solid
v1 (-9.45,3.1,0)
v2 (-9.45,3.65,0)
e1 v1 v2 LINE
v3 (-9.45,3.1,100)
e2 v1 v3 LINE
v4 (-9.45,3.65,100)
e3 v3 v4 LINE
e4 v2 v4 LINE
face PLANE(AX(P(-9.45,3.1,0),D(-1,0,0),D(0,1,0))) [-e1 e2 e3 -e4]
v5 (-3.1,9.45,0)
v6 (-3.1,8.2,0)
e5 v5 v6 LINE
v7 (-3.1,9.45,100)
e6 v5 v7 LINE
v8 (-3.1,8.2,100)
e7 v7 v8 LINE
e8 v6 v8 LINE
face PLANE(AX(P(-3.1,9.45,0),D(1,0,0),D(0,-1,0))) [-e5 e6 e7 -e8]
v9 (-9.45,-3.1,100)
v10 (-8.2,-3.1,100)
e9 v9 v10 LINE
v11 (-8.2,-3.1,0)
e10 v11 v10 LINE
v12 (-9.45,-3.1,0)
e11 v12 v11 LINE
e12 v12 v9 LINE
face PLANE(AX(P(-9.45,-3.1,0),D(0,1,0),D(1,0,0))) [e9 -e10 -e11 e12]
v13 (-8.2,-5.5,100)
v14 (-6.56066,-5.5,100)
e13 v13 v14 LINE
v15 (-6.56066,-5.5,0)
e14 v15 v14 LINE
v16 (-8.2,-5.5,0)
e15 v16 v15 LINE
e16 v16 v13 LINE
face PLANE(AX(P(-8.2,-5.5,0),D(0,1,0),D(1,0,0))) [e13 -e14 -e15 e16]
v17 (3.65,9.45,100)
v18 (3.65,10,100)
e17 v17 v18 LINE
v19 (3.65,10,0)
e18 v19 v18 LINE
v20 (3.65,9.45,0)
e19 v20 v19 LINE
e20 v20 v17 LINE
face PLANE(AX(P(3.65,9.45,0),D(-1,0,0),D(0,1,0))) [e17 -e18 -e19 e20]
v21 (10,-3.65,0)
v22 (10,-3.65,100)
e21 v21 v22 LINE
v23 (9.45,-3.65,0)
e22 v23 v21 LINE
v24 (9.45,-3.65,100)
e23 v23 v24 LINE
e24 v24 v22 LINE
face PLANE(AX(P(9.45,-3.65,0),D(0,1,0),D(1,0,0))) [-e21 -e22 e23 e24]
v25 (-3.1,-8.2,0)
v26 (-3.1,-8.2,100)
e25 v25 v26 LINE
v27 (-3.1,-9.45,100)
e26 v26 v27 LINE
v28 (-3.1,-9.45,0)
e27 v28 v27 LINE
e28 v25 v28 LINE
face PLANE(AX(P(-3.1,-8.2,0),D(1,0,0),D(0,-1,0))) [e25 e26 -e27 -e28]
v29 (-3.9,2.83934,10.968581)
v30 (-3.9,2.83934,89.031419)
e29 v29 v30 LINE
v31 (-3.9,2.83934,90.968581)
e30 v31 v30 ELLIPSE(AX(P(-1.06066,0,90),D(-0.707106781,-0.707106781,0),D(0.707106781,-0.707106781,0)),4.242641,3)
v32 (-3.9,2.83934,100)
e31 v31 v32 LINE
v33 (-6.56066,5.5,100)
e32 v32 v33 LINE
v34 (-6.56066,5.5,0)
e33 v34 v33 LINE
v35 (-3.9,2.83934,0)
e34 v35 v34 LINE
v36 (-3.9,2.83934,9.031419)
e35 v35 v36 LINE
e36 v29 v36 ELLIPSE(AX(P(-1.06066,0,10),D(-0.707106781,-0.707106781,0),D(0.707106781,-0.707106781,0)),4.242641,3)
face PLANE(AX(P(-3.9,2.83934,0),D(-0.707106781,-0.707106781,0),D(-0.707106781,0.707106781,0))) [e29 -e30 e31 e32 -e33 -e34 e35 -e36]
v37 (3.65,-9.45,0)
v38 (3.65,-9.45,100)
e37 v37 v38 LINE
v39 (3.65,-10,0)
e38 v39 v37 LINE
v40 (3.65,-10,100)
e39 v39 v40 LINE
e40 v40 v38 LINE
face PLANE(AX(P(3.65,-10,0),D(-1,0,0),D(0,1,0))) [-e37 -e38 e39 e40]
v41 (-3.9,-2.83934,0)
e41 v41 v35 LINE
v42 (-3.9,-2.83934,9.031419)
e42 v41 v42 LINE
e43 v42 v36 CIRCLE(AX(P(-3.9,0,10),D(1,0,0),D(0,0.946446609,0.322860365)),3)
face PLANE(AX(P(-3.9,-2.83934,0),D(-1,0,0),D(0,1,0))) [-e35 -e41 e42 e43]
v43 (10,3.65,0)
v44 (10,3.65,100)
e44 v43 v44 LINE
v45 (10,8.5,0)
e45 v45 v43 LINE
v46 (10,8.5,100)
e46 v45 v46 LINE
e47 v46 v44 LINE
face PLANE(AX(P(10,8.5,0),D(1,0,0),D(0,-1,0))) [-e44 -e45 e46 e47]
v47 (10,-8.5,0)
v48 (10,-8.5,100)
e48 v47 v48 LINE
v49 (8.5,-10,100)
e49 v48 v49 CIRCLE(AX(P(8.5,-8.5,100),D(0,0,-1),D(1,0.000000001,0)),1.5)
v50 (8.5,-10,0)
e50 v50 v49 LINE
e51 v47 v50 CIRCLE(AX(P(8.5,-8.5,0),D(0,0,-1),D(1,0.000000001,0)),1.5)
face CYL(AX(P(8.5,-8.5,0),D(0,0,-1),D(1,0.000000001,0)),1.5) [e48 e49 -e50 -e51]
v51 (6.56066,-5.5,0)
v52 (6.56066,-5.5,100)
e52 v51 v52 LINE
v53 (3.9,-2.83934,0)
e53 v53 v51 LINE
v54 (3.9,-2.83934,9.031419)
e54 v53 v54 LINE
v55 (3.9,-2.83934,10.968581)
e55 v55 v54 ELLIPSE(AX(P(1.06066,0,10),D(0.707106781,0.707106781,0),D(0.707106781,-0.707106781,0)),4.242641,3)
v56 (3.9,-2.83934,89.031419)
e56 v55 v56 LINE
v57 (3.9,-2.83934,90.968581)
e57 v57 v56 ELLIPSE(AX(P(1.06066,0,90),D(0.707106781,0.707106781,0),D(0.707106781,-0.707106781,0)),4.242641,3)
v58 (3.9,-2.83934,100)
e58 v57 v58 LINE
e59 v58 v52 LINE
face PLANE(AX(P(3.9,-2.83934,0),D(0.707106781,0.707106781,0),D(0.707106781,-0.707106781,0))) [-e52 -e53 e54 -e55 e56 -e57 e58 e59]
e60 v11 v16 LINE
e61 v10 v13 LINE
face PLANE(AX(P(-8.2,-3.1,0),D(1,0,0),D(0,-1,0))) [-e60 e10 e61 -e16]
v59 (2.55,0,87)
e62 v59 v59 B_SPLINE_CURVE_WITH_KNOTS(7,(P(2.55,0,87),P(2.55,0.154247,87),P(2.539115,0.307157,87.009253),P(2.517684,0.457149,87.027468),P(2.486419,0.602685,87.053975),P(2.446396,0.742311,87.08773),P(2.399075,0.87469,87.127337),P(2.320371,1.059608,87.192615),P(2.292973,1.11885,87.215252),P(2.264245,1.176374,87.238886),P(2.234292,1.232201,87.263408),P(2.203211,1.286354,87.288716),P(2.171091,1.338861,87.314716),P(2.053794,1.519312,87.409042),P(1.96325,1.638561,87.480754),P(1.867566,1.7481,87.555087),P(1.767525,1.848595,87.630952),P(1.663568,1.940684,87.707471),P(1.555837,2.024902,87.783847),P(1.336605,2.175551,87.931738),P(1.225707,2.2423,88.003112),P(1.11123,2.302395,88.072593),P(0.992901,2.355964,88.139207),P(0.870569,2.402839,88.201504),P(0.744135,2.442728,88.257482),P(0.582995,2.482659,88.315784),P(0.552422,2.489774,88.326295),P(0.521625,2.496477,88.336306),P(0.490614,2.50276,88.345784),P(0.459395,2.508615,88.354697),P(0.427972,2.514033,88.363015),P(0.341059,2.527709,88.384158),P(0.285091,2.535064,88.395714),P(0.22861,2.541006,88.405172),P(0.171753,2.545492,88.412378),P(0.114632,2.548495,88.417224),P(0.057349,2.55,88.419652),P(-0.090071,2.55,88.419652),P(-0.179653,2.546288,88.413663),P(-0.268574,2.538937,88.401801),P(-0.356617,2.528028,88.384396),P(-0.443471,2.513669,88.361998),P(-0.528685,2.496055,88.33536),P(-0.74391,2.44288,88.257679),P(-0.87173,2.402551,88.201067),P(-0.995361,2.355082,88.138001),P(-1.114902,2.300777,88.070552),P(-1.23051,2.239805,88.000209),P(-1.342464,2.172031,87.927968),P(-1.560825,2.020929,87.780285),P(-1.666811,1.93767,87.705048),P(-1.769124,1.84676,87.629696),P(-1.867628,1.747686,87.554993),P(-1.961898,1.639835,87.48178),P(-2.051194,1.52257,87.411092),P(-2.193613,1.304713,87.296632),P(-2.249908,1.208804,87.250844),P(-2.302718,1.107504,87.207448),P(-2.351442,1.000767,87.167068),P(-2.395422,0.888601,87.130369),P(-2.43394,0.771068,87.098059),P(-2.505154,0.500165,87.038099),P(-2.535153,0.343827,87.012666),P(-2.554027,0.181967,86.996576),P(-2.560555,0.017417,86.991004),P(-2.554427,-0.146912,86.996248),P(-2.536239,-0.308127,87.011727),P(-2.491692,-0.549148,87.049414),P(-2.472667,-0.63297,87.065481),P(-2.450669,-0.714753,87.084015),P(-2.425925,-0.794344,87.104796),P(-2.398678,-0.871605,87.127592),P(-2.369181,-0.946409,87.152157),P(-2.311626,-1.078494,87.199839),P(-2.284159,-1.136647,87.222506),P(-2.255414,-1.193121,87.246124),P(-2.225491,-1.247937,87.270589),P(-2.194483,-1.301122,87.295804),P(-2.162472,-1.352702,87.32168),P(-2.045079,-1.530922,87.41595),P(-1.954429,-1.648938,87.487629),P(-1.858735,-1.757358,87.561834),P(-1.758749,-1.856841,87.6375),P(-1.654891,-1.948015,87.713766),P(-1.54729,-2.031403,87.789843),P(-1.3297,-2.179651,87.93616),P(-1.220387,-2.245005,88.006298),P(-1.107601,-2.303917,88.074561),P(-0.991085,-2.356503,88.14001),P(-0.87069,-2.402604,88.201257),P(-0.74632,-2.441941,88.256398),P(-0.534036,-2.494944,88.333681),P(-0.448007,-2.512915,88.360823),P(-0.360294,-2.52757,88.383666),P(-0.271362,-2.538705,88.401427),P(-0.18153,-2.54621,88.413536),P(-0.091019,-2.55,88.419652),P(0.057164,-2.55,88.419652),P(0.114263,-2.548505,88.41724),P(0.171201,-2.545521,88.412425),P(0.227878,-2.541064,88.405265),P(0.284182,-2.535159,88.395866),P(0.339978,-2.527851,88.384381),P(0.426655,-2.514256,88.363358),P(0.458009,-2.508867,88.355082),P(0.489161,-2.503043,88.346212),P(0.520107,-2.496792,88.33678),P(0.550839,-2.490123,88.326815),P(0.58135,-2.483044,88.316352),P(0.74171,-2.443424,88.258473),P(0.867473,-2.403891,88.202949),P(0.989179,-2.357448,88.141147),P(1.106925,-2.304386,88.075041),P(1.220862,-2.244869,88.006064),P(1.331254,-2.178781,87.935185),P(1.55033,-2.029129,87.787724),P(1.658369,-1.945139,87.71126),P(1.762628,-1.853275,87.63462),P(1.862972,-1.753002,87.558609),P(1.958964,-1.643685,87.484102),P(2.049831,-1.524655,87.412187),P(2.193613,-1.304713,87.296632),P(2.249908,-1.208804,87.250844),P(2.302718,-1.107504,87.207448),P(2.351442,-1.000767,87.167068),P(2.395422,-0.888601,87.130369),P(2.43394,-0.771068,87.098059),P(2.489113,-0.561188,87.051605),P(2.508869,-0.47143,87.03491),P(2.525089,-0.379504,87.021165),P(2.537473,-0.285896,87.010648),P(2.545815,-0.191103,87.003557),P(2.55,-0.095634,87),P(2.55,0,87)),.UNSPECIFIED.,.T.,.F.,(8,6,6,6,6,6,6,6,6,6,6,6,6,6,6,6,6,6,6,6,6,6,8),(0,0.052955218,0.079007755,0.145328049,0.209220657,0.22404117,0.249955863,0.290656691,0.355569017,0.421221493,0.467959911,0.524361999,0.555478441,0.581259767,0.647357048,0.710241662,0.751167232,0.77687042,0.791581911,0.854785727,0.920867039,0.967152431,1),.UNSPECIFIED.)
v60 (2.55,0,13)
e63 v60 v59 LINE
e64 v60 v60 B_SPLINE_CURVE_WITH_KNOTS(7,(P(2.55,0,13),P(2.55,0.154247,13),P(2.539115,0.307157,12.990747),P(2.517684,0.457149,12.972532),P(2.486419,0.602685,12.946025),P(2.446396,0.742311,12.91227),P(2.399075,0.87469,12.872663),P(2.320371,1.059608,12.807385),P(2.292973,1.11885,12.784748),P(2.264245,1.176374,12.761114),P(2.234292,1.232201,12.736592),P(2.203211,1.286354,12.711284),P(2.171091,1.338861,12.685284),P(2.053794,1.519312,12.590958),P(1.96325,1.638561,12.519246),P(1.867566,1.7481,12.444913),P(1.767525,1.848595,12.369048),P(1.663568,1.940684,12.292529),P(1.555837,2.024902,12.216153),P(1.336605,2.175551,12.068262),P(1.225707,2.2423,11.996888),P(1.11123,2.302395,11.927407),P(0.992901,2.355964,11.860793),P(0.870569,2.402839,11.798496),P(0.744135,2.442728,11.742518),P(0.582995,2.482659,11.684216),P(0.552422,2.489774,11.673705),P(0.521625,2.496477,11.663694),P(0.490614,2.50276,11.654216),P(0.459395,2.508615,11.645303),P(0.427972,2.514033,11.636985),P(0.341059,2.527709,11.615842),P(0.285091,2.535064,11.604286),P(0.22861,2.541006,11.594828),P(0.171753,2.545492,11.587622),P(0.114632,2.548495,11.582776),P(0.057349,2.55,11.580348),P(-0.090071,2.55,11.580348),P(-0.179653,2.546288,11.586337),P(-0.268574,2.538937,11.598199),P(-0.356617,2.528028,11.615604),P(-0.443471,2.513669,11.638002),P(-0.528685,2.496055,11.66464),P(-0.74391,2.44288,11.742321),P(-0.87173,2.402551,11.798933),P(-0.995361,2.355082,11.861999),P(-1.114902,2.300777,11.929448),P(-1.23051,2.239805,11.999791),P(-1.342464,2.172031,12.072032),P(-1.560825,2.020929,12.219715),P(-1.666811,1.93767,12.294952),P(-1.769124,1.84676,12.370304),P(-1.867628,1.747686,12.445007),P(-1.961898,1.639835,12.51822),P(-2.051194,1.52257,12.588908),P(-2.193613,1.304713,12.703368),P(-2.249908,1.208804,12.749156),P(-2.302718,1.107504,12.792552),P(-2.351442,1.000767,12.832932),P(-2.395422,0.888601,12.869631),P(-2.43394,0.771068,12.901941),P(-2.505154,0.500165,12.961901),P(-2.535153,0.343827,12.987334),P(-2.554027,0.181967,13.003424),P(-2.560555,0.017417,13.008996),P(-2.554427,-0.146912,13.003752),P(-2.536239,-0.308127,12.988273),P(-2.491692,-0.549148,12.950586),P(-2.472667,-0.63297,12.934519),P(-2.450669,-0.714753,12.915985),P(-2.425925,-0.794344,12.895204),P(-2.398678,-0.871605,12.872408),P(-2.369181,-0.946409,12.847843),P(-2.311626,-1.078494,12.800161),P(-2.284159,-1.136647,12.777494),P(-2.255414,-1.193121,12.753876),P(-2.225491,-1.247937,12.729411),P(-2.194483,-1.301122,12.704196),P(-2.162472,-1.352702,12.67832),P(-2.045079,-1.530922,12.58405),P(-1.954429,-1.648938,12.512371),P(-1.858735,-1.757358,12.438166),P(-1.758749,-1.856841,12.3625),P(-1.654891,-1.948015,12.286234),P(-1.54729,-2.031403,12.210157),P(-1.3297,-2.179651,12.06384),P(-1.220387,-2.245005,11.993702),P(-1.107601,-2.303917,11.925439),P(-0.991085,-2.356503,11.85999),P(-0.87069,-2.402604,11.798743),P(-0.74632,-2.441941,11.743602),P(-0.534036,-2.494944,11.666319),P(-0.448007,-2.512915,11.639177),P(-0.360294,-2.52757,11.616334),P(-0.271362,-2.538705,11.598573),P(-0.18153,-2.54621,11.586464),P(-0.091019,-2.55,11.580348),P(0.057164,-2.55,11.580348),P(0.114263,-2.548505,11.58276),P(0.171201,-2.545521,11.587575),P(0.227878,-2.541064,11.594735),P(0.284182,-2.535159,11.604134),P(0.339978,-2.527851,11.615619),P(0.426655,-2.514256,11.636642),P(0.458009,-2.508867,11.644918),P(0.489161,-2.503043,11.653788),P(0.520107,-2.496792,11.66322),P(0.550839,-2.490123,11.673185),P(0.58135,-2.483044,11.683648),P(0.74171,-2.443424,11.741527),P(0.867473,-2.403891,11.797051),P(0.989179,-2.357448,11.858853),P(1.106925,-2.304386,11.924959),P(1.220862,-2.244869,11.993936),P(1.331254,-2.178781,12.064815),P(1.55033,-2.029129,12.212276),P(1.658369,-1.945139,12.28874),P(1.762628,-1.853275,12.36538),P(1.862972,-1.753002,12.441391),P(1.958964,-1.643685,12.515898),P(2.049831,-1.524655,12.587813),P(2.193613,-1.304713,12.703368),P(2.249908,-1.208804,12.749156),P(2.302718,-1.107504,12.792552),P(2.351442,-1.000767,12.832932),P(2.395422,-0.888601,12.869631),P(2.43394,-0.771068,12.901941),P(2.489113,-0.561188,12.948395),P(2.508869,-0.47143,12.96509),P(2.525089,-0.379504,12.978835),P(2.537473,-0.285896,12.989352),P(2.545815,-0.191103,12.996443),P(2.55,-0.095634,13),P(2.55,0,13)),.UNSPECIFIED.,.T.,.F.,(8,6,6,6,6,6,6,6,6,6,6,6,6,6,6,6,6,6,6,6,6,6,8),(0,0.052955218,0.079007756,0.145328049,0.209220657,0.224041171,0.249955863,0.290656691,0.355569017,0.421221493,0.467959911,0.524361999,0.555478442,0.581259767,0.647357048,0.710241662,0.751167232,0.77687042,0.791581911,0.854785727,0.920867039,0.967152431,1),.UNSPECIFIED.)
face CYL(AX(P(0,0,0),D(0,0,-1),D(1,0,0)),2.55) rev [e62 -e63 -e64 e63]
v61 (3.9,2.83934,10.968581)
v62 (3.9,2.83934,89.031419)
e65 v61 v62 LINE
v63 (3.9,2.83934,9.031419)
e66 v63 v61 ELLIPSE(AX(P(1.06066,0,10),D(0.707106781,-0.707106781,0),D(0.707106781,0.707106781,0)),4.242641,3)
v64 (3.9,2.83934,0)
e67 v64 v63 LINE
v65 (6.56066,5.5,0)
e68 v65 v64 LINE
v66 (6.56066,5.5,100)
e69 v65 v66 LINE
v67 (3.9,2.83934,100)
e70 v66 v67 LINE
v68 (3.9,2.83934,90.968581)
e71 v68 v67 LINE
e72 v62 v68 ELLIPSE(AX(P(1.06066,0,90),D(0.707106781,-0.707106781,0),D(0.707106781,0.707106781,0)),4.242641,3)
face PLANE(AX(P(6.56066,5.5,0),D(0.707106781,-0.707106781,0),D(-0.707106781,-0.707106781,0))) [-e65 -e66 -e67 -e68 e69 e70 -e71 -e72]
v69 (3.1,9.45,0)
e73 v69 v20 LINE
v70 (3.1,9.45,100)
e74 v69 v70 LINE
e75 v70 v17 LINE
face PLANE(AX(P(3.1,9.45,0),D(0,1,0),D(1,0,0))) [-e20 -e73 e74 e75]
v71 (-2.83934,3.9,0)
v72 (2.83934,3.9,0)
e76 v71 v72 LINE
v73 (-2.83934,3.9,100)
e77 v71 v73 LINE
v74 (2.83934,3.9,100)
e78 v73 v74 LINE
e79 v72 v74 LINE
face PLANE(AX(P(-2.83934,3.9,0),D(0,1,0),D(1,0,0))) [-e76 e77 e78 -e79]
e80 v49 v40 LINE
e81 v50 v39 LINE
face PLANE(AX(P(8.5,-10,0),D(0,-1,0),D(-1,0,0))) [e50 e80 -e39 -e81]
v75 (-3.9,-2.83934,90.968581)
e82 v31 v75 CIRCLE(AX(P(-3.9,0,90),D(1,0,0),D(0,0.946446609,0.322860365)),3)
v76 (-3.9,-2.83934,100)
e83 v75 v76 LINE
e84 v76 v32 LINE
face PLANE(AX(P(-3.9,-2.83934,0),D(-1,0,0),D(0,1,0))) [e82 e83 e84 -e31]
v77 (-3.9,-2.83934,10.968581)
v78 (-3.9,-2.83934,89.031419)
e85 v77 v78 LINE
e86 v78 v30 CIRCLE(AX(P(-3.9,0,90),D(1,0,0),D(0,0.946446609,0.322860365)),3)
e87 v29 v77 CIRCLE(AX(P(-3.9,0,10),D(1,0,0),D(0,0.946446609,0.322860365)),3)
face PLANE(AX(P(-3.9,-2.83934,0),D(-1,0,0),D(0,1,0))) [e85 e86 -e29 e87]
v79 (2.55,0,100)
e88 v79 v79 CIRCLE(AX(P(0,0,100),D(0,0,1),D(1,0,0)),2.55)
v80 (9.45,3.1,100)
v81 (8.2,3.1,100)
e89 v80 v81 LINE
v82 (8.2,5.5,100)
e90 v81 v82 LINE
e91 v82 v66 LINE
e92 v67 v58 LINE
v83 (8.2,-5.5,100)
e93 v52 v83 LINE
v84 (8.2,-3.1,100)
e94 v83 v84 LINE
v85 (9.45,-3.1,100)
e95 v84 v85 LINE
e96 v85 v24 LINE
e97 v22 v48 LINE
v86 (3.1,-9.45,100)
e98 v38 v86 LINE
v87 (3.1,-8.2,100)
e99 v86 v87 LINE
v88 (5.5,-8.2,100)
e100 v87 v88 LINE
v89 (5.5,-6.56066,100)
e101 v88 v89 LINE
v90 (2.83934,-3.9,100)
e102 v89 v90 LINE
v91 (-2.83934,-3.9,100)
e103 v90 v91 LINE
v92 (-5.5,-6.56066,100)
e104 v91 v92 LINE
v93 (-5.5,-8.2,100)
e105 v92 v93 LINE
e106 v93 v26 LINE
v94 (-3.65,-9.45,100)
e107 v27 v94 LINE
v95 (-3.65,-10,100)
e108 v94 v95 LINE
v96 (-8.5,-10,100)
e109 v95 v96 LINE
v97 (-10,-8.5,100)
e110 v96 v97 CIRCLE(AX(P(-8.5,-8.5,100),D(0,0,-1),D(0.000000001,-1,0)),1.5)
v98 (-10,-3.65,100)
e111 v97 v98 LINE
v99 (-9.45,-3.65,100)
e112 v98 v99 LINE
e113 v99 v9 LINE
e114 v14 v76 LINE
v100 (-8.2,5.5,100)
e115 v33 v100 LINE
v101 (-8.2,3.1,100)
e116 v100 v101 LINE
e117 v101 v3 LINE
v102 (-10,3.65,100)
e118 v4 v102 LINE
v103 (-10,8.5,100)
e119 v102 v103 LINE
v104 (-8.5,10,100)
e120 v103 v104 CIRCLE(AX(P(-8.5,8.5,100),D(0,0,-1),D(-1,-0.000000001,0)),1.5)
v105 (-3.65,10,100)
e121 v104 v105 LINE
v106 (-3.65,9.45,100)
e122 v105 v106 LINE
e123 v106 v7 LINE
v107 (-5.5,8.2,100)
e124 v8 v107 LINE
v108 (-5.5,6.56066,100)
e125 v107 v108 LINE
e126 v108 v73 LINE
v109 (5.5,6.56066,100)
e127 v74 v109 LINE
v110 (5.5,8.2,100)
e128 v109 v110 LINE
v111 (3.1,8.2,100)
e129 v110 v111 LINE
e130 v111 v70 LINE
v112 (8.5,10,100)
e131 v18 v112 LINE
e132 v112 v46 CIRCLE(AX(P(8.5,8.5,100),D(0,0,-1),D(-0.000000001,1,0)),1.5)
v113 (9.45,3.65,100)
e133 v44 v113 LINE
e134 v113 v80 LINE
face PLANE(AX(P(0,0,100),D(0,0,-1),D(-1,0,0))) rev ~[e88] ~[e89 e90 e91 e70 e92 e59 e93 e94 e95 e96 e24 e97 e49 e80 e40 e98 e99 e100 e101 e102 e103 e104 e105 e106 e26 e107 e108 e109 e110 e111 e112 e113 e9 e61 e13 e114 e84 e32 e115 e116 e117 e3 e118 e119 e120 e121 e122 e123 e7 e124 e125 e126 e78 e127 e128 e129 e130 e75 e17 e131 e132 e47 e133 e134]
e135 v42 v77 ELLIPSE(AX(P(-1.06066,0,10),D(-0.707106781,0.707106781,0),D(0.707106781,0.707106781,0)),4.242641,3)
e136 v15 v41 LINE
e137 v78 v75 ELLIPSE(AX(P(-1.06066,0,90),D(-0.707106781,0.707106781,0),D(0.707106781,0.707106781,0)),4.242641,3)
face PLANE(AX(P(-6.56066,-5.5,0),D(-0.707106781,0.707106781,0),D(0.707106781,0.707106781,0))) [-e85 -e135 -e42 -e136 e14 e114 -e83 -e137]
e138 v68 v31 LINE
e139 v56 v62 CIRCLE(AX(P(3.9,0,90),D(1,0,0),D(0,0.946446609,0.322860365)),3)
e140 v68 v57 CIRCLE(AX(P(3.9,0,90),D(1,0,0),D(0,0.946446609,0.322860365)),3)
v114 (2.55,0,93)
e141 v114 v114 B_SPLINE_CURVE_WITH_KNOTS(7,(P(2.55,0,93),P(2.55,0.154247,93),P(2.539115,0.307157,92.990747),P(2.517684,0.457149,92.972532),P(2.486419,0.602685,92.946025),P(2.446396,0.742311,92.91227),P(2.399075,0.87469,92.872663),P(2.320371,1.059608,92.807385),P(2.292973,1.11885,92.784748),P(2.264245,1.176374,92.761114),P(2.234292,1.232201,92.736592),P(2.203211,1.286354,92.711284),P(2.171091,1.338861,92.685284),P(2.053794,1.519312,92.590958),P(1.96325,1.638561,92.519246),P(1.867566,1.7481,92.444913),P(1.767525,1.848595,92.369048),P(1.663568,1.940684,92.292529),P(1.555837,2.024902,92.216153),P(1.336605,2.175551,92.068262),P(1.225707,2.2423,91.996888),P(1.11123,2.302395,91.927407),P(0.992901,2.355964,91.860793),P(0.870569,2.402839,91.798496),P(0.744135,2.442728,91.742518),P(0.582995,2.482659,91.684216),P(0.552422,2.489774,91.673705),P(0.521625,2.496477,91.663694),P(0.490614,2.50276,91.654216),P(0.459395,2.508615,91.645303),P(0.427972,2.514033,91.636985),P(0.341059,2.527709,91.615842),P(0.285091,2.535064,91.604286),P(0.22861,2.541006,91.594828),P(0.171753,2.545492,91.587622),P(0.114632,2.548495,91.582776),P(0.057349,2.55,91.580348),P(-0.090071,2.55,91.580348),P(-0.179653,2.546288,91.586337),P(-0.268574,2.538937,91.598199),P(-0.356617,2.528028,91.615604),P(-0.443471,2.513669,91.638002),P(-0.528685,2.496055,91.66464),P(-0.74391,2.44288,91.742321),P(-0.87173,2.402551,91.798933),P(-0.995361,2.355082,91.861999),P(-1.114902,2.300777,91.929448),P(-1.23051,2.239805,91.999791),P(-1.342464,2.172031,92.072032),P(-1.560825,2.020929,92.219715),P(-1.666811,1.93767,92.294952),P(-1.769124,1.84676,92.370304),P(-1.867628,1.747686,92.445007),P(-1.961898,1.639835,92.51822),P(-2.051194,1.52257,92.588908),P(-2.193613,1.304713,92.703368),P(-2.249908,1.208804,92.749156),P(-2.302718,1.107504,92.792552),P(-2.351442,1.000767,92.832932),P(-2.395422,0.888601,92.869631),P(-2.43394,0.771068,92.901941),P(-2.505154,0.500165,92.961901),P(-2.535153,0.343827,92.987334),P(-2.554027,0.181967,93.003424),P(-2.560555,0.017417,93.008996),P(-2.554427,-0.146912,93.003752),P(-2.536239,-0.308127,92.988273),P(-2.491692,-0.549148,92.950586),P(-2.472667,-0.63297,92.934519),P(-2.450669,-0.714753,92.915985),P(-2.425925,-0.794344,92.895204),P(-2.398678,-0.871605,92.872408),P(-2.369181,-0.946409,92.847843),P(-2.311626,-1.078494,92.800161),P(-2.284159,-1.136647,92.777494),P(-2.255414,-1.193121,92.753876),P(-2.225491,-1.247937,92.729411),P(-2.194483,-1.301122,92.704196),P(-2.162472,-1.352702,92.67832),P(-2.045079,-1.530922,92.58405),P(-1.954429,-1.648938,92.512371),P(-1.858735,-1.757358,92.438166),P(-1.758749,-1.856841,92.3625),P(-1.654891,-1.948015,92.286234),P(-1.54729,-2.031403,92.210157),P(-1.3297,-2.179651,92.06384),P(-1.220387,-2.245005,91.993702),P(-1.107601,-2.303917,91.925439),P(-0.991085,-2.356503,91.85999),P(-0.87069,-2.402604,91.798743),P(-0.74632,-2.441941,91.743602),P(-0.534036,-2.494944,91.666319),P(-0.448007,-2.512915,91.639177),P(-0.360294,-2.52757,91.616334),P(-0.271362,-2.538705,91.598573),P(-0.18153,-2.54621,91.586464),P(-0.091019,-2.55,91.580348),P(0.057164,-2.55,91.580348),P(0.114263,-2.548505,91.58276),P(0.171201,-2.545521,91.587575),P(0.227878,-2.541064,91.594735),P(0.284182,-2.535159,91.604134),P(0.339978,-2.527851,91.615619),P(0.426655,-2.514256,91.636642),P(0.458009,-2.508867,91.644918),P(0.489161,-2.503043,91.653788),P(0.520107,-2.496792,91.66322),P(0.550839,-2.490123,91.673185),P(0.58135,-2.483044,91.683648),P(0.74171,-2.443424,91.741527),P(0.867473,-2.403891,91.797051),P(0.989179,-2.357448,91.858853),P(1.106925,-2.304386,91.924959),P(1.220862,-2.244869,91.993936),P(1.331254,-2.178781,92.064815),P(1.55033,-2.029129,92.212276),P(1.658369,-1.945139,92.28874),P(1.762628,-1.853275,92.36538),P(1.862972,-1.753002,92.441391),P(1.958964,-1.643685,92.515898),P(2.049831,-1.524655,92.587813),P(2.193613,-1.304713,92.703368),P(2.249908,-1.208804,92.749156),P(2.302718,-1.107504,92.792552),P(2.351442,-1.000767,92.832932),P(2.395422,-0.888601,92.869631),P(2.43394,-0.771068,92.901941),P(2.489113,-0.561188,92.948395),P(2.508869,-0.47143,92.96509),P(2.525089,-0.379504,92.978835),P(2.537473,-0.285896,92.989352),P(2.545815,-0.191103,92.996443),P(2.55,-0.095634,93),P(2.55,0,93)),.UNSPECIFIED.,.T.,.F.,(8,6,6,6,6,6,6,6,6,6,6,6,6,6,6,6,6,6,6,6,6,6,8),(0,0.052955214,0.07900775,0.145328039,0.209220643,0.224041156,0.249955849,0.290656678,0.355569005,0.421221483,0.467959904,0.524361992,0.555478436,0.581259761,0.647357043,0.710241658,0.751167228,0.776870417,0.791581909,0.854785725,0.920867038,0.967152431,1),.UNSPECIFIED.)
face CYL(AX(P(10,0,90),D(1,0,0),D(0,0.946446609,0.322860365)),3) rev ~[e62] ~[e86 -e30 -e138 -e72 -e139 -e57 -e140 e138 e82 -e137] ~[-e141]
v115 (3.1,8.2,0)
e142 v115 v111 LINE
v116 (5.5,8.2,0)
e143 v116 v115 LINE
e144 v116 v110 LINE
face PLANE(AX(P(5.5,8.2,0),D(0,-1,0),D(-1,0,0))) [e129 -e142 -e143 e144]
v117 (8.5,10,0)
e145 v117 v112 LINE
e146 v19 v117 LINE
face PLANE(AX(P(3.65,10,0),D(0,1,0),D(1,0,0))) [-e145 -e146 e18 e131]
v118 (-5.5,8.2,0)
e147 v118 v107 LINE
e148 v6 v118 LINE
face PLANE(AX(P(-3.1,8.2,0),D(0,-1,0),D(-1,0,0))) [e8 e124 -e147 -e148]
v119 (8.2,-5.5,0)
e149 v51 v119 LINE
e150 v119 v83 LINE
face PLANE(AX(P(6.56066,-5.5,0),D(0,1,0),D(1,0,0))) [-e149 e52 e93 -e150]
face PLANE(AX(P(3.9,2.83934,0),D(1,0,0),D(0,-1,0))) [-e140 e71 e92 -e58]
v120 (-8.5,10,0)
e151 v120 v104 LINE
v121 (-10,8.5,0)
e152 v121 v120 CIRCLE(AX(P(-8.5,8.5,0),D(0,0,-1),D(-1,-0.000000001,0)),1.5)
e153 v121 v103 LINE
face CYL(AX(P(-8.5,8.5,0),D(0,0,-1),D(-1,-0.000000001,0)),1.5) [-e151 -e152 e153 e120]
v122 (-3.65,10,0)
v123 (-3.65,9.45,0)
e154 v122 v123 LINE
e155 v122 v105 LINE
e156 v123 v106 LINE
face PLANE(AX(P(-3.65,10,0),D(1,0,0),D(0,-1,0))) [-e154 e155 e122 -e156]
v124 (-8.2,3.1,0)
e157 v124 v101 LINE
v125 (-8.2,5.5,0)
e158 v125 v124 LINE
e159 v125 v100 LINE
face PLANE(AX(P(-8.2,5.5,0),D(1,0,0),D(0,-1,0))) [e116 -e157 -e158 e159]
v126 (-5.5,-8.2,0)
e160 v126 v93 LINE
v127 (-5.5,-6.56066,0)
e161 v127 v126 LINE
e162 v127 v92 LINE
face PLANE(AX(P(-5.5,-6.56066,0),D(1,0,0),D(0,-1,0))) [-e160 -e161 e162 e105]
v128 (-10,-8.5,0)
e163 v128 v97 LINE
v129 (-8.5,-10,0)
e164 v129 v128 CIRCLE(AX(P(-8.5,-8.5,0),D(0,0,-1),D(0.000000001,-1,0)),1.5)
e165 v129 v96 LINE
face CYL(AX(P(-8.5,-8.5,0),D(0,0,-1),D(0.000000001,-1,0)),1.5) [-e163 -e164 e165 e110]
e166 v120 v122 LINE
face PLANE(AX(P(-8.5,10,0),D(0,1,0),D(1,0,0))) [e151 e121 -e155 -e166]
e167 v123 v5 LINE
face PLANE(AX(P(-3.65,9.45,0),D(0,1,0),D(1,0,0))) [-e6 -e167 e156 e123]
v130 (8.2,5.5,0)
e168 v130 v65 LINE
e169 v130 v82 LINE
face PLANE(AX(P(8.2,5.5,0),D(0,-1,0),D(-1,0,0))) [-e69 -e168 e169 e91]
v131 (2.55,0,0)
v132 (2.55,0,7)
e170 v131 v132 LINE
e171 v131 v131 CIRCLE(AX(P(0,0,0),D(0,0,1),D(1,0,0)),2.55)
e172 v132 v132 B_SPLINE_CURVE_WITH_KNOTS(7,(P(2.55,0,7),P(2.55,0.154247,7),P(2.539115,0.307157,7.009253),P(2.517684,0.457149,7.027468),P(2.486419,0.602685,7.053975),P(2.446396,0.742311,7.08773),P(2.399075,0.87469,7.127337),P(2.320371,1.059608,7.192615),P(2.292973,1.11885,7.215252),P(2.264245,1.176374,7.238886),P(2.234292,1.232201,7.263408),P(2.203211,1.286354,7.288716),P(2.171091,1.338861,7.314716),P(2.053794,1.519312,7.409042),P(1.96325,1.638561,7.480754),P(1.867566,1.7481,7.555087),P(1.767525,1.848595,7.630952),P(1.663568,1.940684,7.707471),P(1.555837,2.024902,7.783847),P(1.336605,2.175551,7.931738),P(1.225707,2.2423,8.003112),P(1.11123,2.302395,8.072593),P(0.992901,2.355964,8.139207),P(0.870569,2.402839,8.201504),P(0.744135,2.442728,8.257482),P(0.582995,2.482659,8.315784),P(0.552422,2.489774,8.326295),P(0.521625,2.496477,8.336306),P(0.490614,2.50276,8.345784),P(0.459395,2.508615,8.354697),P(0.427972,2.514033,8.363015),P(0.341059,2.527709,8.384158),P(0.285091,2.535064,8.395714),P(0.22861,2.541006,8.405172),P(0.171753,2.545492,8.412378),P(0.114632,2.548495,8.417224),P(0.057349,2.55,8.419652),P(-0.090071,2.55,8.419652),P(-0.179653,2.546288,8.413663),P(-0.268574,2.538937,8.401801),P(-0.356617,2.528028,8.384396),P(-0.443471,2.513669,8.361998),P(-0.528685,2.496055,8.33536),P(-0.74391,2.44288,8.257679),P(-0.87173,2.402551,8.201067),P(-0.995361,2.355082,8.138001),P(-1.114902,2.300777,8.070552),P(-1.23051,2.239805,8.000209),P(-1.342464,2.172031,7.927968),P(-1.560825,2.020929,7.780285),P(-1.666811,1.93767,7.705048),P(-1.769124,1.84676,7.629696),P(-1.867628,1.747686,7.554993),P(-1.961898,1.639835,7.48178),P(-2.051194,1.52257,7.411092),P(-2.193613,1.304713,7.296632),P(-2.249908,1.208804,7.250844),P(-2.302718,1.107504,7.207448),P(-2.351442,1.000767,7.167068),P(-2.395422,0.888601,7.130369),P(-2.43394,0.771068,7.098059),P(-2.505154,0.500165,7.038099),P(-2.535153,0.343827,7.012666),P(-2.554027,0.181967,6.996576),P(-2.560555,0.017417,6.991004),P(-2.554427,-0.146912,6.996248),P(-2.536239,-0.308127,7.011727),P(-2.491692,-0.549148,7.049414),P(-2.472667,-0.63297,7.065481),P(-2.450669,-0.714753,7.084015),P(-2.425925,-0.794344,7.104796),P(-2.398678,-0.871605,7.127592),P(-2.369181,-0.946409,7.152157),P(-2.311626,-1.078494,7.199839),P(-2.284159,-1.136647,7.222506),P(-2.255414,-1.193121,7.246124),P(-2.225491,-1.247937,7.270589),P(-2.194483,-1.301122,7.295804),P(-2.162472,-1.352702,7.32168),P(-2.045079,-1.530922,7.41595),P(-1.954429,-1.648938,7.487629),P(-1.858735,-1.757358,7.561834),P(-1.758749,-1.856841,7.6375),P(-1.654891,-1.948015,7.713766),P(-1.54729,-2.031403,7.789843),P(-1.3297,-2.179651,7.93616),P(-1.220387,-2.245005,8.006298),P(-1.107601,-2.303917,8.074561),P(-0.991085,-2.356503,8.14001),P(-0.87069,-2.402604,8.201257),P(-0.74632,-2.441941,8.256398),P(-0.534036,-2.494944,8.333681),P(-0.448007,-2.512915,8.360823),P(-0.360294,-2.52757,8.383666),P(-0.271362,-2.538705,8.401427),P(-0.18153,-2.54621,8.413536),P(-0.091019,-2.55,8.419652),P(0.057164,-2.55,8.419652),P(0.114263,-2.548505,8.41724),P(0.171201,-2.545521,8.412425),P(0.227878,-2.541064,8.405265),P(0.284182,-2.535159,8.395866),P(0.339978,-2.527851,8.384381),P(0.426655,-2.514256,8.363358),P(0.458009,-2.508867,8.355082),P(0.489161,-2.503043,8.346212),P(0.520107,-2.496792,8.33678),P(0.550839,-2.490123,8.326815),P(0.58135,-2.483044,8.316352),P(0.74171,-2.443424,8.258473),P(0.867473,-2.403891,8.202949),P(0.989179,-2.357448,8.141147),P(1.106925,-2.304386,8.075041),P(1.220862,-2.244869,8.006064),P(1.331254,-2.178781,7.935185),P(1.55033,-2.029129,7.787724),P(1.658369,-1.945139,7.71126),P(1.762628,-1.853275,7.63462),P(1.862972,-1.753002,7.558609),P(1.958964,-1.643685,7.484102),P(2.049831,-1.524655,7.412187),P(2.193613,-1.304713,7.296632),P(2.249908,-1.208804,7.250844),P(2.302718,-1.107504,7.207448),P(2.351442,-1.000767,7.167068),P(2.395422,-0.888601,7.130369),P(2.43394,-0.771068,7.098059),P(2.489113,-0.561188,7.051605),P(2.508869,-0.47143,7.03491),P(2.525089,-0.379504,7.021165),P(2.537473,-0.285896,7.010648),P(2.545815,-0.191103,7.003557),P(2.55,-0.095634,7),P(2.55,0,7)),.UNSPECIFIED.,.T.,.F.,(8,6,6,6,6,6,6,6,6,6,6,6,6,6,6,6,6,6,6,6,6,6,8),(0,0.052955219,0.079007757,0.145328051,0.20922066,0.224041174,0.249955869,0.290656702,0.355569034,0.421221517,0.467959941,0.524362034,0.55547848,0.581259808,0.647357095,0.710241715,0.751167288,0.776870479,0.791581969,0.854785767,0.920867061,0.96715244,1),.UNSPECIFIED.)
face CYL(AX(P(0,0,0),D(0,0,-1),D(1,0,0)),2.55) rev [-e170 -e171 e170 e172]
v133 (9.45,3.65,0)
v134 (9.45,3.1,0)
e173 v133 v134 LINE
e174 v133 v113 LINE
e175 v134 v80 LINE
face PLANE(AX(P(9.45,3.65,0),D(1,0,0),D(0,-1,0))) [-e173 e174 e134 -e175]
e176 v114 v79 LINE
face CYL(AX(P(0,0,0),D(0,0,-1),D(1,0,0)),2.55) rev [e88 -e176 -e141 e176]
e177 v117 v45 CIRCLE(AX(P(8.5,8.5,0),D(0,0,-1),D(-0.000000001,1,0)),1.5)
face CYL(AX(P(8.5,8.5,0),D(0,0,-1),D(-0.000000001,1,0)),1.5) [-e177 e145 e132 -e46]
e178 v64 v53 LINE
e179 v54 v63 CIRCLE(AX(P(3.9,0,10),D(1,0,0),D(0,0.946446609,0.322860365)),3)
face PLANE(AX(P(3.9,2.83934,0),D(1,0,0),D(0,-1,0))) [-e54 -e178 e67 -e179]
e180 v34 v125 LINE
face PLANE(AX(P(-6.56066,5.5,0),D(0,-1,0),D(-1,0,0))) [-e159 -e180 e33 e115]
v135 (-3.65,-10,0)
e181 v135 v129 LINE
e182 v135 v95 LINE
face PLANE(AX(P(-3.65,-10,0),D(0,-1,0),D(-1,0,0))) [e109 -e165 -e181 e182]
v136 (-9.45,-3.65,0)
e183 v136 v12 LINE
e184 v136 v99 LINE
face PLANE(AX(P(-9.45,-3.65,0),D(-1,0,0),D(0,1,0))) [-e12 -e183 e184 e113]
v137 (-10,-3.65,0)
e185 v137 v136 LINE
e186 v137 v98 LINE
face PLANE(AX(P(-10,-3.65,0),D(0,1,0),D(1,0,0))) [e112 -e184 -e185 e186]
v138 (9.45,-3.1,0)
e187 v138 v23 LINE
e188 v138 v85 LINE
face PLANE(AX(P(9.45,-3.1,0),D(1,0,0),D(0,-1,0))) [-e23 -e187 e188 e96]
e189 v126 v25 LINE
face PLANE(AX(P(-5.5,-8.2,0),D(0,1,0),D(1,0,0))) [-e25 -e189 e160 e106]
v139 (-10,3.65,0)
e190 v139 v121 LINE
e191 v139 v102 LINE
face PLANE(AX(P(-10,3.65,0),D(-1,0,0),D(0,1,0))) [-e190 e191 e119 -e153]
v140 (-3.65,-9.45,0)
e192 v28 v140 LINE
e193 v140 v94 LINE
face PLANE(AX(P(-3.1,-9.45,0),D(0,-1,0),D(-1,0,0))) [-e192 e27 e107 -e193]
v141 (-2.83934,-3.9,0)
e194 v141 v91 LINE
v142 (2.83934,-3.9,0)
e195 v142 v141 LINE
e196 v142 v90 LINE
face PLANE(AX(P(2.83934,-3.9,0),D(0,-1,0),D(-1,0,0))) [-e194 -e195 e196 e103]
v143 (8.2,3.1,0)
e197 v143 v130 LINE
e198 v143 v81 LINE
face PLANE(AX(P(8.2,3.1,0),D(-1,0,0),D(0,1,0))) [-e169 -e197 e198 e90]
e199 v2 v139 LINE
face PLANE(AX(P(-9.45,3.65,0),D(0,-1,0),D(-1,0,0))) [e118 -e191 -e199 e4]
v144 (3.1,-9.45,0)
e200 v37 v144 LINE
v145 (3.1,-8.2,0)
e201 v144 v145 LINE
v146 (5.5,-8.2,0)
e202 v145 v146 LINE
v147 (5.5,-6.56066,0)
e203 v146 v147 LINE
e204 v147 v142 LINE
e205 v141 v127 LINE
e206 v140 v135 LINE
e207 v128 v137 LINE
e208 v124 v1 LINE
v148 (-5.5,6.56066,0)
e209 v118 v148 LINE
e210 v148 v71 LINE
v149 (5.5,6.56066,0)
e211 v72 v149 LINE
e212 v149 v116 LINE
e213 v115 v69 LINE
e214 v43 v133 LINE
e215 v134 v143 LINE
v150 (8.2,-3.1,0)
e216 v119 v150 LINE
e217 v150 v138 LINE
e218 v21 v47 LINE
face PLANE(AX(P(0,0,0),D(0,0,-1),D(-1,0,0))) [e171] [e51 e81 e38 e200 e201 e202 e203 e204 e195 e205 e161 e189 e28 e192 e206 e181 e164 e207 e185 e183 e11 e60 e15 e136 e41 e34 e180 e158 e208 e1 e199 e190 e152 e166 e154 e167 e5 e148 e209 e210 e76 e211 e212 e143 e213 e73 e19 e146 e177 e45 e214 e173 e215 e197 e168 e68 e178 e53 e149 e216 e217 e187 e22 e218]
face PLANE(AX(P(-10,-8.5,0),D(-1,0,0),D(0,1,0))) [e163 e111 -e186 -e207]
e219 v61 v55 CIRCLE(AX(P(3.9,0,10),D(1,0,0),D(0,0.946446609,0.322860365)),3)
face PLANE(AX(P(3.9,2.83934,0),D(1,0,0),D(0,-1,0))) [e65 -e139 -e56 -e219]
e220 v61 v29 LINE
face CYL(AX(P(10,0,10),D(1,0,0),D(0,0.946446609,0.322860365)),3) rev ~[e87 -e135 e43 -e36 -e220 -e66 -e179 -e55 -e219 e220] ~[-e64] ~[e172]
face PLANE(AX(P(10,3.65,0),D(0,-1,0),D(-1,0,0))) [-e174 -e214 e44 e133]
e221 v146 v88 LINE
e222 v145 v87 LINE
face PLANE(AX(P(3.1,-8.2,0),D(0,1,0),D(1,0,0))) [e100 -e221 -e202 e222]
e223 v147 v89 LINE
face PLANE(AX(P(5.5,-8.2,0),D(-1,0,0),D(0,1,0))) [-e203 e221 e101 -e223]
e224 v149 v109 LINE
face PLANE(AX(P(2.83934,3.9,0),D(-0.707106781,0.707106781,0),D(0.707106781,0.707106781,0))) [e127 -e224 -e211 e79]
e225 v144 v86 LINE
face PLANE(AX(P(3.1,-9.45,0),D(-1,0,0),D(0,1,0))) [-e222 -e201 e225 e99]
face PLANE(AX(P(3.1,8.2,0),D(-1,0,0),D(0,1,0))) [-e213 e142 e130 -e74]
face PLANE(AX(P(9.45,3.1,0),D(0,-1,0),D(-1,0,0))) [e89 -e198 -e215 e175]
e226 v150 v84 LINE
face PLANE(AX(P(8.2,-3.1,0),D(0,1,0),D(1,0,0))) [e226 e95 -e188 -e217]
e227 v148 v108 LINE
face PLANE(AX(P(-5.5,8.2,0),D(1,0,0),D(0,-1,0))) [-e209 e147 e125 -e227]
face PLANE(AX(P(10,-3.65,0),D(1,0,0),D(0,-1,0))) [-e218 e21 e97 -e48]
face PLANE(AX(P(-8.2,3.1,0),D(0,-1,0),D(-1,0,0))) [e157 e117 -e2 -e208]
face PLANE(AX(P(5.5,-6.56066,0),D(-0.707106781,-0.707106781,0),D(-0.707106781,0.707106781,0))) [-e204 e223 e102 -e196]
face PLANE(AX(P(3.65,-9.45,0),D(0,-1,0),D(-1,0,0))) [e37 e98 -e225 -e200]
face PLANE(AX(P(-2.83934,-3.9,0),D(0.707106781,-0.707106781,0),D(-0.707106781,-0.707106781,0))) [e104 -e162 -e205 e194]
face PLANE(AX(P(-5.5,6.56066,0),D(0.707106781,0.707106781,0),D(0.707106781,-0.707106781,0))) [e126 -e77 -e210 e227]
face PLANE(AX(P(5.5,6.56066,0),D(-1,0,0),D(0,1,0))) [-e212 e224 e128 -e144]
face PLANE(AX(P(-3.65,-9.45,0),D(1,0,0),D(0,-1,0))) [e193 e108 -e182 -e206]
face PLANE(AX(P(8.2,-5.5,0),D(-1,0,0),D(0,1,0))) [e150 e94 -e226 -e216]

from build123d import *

# Parameters (mm, degrees)
SKETCH_2_R          = 2.55
EXTRUDE_1_DEPTH     = 100
SKETCH_3_R          = 3
CUT_EXTRUDE_1_DEPTH = 103.46950766


with BuildPart() as part:
    # 草图2 → 凸台-拉伸1 (new body)
    with BuildSketch(Plane.XY):
        with BuildLine():
            Line((-3.9, 2.839339828), (-6.560660172, 5.5))
            Line((-6.560660172, 5.5), (-8.2, 5.5))
            Line((-8.2, 5.5), (-8.2, 3.1))
            Line((-8.2, 3.1), (-9.45, 3.1))
            Line((-9.45, 3.1), (-9.45, 3.65))
            Line((-9.45, 3.65), (-10, 3.65))
            Line((-10, 3.65), (-10, 8.5))
            ThreePointArc((-10, 8.5), (-9.560660172, 9.560660172), (-8.5, 10))
            Line((-8.5, 10), (-3.65, 10))
            Line((-3.65, 10), (-3.65, 9.45))
            Line((-3.65, 9.45), (-3.1, 9.45))
            Line((-3.1, 9.45), (-3.1, 8.2))
            Line((-3.1, 8.2), (-5.5, 8.2))
            Line((-5.5, 8.2), (-5.5, 6.560660172))
            Line((-5.5, 6.560660172), (-2.839339828, 3.9))
            Line((-2.839339828, 3.9), (2.839339828, 3.9))
            Line((2.839339828, 3.9), (5.5, 6.560660172))
            Line((5.5, 6.560660172), (5.5, 8.2))
            Line((5.5, 8.2), (3.1, 8.2))
            Line((3.1, 8.2), (3.1, 9.45))
            Line((3.1, 9.45), (3.65, 9.45))
            Line((3.65, 9.45), (3.65, 10))
            Line((3.65, 10), (8.5, 10))
            ThreePointArc((8.5, 10), (9.560660172, 9.560660172), (10, 8.5))
            Line((10, 8.5), (10, 3.65))
            Line((10, 3.65), (9.45, 3.65))
            Line((9.45, 3.65), (9.45, 3.1))
            Line((9.45, 3.1), (8.2, 3.1))
            Line((8.2, 3.1), (8.2, 5.5))
            Line((8.2, 5.5), (6.560660172, 5.5))
            Line((6.560660172, 5.5), (3.9, 2.839339828))
            Line((3.9, 2.839339828), (3.9, -2.839339828))
            Line((3.9, -2.839339828), (6.560660172, -5.5))
            Line((6.560660172, -5.5), (8.2, -5.5))
            Line((8.2, -5.5), (8.2, -3.1))
            Line((8.2, -3.1), (9.45, -3.1))
            Line((9.45, -3.1), (9.45, -3.65))
            Line((9.45, -3.65), (10, -3.65))
            Line((10, -3.65), (10, -8.5))
            ThreePointArc((10, -8.5), (9.560660172, -9.560660172), (8.5, -10))
            Line((8.5, -10), (3.65, -10))
            Line((3.65, -10), (3.65, -9.45))
            Line((3.65, -9.45), (3.1, -9.45))
            Line((3.1, -9.45), (3.1, -8.2))
            Line((3.1, -8.2), (5.5, -8.2))
            Line((5.5, -8.2), (5.5, -6.560660172))
            Line((5.5, -6.560660172), (2.839339828, -3.9))
            Line((2.839339828, -3.9), (-2.839339828, -3.9))
            Line((-2.839339828, -3.9), (-5.5, -6.560660172))
            Line((-5.5, -6.560660172), (-5.5, -8.2))
            Line((-5.5, -8.2), (-3.1, -8.2))
            Line((-3.1, -8.2), (-3.1, -9.45))
            Line((-3.1, -9.45), (-3.65, -9.45))
            Line((-3.65, -9.45), (-3.65, -10))
            Line((-3.65, -10), (-8.5, -10))
            ThreePointArc((-8.5, -10), (-9.560660172, -9.560660172), (-10, -8.5))
            Line((-10, -8.5), (-10, -3.65))
            Line((-10, -3.65), (-9.45, -3.65))
            Line((-9.45, -3.65), (-9.45, -3.1))
            Line((-9.45, -3.1), (-8.2, -3.1))
            Line((-8.2, -3.1), (-8.2, -5.5))
            Line((-8.2, -5.5), (-6.560660172, -5.5))
            Line((-6.560660172, -5.5), (-3.9, -2.839339828))
            Line((-3.9, -2.839339828), (-3.9, 2.839339828))
        make_face()
        Circle(SKETCH_2_R, mode=Mode.SUBTRACT)
    extrude(amount=EXTRUDE_1_DEPTH)

    # 草图3 → 切除-拉伸1 (cut, through all)
    with BuildSketch(Plane(origin=(10, 0, 0), x_dir=(0, 0, -1), z_dir=(1, 0, 0))):
        with Locations(Location((-90, 0, 0), (0, 0, 108.835996158))):
            Circle(SKETCH_3_R)
        with Locations(Location((-10, 0, 0), (0, 0, 108.835996158))):
            Circle(SKETCH_3_R)
    extrude(amount=-CUT_EXTRUDE_1_DEPTH, mode=Mode.SUBTRACT)


solid = part.part
